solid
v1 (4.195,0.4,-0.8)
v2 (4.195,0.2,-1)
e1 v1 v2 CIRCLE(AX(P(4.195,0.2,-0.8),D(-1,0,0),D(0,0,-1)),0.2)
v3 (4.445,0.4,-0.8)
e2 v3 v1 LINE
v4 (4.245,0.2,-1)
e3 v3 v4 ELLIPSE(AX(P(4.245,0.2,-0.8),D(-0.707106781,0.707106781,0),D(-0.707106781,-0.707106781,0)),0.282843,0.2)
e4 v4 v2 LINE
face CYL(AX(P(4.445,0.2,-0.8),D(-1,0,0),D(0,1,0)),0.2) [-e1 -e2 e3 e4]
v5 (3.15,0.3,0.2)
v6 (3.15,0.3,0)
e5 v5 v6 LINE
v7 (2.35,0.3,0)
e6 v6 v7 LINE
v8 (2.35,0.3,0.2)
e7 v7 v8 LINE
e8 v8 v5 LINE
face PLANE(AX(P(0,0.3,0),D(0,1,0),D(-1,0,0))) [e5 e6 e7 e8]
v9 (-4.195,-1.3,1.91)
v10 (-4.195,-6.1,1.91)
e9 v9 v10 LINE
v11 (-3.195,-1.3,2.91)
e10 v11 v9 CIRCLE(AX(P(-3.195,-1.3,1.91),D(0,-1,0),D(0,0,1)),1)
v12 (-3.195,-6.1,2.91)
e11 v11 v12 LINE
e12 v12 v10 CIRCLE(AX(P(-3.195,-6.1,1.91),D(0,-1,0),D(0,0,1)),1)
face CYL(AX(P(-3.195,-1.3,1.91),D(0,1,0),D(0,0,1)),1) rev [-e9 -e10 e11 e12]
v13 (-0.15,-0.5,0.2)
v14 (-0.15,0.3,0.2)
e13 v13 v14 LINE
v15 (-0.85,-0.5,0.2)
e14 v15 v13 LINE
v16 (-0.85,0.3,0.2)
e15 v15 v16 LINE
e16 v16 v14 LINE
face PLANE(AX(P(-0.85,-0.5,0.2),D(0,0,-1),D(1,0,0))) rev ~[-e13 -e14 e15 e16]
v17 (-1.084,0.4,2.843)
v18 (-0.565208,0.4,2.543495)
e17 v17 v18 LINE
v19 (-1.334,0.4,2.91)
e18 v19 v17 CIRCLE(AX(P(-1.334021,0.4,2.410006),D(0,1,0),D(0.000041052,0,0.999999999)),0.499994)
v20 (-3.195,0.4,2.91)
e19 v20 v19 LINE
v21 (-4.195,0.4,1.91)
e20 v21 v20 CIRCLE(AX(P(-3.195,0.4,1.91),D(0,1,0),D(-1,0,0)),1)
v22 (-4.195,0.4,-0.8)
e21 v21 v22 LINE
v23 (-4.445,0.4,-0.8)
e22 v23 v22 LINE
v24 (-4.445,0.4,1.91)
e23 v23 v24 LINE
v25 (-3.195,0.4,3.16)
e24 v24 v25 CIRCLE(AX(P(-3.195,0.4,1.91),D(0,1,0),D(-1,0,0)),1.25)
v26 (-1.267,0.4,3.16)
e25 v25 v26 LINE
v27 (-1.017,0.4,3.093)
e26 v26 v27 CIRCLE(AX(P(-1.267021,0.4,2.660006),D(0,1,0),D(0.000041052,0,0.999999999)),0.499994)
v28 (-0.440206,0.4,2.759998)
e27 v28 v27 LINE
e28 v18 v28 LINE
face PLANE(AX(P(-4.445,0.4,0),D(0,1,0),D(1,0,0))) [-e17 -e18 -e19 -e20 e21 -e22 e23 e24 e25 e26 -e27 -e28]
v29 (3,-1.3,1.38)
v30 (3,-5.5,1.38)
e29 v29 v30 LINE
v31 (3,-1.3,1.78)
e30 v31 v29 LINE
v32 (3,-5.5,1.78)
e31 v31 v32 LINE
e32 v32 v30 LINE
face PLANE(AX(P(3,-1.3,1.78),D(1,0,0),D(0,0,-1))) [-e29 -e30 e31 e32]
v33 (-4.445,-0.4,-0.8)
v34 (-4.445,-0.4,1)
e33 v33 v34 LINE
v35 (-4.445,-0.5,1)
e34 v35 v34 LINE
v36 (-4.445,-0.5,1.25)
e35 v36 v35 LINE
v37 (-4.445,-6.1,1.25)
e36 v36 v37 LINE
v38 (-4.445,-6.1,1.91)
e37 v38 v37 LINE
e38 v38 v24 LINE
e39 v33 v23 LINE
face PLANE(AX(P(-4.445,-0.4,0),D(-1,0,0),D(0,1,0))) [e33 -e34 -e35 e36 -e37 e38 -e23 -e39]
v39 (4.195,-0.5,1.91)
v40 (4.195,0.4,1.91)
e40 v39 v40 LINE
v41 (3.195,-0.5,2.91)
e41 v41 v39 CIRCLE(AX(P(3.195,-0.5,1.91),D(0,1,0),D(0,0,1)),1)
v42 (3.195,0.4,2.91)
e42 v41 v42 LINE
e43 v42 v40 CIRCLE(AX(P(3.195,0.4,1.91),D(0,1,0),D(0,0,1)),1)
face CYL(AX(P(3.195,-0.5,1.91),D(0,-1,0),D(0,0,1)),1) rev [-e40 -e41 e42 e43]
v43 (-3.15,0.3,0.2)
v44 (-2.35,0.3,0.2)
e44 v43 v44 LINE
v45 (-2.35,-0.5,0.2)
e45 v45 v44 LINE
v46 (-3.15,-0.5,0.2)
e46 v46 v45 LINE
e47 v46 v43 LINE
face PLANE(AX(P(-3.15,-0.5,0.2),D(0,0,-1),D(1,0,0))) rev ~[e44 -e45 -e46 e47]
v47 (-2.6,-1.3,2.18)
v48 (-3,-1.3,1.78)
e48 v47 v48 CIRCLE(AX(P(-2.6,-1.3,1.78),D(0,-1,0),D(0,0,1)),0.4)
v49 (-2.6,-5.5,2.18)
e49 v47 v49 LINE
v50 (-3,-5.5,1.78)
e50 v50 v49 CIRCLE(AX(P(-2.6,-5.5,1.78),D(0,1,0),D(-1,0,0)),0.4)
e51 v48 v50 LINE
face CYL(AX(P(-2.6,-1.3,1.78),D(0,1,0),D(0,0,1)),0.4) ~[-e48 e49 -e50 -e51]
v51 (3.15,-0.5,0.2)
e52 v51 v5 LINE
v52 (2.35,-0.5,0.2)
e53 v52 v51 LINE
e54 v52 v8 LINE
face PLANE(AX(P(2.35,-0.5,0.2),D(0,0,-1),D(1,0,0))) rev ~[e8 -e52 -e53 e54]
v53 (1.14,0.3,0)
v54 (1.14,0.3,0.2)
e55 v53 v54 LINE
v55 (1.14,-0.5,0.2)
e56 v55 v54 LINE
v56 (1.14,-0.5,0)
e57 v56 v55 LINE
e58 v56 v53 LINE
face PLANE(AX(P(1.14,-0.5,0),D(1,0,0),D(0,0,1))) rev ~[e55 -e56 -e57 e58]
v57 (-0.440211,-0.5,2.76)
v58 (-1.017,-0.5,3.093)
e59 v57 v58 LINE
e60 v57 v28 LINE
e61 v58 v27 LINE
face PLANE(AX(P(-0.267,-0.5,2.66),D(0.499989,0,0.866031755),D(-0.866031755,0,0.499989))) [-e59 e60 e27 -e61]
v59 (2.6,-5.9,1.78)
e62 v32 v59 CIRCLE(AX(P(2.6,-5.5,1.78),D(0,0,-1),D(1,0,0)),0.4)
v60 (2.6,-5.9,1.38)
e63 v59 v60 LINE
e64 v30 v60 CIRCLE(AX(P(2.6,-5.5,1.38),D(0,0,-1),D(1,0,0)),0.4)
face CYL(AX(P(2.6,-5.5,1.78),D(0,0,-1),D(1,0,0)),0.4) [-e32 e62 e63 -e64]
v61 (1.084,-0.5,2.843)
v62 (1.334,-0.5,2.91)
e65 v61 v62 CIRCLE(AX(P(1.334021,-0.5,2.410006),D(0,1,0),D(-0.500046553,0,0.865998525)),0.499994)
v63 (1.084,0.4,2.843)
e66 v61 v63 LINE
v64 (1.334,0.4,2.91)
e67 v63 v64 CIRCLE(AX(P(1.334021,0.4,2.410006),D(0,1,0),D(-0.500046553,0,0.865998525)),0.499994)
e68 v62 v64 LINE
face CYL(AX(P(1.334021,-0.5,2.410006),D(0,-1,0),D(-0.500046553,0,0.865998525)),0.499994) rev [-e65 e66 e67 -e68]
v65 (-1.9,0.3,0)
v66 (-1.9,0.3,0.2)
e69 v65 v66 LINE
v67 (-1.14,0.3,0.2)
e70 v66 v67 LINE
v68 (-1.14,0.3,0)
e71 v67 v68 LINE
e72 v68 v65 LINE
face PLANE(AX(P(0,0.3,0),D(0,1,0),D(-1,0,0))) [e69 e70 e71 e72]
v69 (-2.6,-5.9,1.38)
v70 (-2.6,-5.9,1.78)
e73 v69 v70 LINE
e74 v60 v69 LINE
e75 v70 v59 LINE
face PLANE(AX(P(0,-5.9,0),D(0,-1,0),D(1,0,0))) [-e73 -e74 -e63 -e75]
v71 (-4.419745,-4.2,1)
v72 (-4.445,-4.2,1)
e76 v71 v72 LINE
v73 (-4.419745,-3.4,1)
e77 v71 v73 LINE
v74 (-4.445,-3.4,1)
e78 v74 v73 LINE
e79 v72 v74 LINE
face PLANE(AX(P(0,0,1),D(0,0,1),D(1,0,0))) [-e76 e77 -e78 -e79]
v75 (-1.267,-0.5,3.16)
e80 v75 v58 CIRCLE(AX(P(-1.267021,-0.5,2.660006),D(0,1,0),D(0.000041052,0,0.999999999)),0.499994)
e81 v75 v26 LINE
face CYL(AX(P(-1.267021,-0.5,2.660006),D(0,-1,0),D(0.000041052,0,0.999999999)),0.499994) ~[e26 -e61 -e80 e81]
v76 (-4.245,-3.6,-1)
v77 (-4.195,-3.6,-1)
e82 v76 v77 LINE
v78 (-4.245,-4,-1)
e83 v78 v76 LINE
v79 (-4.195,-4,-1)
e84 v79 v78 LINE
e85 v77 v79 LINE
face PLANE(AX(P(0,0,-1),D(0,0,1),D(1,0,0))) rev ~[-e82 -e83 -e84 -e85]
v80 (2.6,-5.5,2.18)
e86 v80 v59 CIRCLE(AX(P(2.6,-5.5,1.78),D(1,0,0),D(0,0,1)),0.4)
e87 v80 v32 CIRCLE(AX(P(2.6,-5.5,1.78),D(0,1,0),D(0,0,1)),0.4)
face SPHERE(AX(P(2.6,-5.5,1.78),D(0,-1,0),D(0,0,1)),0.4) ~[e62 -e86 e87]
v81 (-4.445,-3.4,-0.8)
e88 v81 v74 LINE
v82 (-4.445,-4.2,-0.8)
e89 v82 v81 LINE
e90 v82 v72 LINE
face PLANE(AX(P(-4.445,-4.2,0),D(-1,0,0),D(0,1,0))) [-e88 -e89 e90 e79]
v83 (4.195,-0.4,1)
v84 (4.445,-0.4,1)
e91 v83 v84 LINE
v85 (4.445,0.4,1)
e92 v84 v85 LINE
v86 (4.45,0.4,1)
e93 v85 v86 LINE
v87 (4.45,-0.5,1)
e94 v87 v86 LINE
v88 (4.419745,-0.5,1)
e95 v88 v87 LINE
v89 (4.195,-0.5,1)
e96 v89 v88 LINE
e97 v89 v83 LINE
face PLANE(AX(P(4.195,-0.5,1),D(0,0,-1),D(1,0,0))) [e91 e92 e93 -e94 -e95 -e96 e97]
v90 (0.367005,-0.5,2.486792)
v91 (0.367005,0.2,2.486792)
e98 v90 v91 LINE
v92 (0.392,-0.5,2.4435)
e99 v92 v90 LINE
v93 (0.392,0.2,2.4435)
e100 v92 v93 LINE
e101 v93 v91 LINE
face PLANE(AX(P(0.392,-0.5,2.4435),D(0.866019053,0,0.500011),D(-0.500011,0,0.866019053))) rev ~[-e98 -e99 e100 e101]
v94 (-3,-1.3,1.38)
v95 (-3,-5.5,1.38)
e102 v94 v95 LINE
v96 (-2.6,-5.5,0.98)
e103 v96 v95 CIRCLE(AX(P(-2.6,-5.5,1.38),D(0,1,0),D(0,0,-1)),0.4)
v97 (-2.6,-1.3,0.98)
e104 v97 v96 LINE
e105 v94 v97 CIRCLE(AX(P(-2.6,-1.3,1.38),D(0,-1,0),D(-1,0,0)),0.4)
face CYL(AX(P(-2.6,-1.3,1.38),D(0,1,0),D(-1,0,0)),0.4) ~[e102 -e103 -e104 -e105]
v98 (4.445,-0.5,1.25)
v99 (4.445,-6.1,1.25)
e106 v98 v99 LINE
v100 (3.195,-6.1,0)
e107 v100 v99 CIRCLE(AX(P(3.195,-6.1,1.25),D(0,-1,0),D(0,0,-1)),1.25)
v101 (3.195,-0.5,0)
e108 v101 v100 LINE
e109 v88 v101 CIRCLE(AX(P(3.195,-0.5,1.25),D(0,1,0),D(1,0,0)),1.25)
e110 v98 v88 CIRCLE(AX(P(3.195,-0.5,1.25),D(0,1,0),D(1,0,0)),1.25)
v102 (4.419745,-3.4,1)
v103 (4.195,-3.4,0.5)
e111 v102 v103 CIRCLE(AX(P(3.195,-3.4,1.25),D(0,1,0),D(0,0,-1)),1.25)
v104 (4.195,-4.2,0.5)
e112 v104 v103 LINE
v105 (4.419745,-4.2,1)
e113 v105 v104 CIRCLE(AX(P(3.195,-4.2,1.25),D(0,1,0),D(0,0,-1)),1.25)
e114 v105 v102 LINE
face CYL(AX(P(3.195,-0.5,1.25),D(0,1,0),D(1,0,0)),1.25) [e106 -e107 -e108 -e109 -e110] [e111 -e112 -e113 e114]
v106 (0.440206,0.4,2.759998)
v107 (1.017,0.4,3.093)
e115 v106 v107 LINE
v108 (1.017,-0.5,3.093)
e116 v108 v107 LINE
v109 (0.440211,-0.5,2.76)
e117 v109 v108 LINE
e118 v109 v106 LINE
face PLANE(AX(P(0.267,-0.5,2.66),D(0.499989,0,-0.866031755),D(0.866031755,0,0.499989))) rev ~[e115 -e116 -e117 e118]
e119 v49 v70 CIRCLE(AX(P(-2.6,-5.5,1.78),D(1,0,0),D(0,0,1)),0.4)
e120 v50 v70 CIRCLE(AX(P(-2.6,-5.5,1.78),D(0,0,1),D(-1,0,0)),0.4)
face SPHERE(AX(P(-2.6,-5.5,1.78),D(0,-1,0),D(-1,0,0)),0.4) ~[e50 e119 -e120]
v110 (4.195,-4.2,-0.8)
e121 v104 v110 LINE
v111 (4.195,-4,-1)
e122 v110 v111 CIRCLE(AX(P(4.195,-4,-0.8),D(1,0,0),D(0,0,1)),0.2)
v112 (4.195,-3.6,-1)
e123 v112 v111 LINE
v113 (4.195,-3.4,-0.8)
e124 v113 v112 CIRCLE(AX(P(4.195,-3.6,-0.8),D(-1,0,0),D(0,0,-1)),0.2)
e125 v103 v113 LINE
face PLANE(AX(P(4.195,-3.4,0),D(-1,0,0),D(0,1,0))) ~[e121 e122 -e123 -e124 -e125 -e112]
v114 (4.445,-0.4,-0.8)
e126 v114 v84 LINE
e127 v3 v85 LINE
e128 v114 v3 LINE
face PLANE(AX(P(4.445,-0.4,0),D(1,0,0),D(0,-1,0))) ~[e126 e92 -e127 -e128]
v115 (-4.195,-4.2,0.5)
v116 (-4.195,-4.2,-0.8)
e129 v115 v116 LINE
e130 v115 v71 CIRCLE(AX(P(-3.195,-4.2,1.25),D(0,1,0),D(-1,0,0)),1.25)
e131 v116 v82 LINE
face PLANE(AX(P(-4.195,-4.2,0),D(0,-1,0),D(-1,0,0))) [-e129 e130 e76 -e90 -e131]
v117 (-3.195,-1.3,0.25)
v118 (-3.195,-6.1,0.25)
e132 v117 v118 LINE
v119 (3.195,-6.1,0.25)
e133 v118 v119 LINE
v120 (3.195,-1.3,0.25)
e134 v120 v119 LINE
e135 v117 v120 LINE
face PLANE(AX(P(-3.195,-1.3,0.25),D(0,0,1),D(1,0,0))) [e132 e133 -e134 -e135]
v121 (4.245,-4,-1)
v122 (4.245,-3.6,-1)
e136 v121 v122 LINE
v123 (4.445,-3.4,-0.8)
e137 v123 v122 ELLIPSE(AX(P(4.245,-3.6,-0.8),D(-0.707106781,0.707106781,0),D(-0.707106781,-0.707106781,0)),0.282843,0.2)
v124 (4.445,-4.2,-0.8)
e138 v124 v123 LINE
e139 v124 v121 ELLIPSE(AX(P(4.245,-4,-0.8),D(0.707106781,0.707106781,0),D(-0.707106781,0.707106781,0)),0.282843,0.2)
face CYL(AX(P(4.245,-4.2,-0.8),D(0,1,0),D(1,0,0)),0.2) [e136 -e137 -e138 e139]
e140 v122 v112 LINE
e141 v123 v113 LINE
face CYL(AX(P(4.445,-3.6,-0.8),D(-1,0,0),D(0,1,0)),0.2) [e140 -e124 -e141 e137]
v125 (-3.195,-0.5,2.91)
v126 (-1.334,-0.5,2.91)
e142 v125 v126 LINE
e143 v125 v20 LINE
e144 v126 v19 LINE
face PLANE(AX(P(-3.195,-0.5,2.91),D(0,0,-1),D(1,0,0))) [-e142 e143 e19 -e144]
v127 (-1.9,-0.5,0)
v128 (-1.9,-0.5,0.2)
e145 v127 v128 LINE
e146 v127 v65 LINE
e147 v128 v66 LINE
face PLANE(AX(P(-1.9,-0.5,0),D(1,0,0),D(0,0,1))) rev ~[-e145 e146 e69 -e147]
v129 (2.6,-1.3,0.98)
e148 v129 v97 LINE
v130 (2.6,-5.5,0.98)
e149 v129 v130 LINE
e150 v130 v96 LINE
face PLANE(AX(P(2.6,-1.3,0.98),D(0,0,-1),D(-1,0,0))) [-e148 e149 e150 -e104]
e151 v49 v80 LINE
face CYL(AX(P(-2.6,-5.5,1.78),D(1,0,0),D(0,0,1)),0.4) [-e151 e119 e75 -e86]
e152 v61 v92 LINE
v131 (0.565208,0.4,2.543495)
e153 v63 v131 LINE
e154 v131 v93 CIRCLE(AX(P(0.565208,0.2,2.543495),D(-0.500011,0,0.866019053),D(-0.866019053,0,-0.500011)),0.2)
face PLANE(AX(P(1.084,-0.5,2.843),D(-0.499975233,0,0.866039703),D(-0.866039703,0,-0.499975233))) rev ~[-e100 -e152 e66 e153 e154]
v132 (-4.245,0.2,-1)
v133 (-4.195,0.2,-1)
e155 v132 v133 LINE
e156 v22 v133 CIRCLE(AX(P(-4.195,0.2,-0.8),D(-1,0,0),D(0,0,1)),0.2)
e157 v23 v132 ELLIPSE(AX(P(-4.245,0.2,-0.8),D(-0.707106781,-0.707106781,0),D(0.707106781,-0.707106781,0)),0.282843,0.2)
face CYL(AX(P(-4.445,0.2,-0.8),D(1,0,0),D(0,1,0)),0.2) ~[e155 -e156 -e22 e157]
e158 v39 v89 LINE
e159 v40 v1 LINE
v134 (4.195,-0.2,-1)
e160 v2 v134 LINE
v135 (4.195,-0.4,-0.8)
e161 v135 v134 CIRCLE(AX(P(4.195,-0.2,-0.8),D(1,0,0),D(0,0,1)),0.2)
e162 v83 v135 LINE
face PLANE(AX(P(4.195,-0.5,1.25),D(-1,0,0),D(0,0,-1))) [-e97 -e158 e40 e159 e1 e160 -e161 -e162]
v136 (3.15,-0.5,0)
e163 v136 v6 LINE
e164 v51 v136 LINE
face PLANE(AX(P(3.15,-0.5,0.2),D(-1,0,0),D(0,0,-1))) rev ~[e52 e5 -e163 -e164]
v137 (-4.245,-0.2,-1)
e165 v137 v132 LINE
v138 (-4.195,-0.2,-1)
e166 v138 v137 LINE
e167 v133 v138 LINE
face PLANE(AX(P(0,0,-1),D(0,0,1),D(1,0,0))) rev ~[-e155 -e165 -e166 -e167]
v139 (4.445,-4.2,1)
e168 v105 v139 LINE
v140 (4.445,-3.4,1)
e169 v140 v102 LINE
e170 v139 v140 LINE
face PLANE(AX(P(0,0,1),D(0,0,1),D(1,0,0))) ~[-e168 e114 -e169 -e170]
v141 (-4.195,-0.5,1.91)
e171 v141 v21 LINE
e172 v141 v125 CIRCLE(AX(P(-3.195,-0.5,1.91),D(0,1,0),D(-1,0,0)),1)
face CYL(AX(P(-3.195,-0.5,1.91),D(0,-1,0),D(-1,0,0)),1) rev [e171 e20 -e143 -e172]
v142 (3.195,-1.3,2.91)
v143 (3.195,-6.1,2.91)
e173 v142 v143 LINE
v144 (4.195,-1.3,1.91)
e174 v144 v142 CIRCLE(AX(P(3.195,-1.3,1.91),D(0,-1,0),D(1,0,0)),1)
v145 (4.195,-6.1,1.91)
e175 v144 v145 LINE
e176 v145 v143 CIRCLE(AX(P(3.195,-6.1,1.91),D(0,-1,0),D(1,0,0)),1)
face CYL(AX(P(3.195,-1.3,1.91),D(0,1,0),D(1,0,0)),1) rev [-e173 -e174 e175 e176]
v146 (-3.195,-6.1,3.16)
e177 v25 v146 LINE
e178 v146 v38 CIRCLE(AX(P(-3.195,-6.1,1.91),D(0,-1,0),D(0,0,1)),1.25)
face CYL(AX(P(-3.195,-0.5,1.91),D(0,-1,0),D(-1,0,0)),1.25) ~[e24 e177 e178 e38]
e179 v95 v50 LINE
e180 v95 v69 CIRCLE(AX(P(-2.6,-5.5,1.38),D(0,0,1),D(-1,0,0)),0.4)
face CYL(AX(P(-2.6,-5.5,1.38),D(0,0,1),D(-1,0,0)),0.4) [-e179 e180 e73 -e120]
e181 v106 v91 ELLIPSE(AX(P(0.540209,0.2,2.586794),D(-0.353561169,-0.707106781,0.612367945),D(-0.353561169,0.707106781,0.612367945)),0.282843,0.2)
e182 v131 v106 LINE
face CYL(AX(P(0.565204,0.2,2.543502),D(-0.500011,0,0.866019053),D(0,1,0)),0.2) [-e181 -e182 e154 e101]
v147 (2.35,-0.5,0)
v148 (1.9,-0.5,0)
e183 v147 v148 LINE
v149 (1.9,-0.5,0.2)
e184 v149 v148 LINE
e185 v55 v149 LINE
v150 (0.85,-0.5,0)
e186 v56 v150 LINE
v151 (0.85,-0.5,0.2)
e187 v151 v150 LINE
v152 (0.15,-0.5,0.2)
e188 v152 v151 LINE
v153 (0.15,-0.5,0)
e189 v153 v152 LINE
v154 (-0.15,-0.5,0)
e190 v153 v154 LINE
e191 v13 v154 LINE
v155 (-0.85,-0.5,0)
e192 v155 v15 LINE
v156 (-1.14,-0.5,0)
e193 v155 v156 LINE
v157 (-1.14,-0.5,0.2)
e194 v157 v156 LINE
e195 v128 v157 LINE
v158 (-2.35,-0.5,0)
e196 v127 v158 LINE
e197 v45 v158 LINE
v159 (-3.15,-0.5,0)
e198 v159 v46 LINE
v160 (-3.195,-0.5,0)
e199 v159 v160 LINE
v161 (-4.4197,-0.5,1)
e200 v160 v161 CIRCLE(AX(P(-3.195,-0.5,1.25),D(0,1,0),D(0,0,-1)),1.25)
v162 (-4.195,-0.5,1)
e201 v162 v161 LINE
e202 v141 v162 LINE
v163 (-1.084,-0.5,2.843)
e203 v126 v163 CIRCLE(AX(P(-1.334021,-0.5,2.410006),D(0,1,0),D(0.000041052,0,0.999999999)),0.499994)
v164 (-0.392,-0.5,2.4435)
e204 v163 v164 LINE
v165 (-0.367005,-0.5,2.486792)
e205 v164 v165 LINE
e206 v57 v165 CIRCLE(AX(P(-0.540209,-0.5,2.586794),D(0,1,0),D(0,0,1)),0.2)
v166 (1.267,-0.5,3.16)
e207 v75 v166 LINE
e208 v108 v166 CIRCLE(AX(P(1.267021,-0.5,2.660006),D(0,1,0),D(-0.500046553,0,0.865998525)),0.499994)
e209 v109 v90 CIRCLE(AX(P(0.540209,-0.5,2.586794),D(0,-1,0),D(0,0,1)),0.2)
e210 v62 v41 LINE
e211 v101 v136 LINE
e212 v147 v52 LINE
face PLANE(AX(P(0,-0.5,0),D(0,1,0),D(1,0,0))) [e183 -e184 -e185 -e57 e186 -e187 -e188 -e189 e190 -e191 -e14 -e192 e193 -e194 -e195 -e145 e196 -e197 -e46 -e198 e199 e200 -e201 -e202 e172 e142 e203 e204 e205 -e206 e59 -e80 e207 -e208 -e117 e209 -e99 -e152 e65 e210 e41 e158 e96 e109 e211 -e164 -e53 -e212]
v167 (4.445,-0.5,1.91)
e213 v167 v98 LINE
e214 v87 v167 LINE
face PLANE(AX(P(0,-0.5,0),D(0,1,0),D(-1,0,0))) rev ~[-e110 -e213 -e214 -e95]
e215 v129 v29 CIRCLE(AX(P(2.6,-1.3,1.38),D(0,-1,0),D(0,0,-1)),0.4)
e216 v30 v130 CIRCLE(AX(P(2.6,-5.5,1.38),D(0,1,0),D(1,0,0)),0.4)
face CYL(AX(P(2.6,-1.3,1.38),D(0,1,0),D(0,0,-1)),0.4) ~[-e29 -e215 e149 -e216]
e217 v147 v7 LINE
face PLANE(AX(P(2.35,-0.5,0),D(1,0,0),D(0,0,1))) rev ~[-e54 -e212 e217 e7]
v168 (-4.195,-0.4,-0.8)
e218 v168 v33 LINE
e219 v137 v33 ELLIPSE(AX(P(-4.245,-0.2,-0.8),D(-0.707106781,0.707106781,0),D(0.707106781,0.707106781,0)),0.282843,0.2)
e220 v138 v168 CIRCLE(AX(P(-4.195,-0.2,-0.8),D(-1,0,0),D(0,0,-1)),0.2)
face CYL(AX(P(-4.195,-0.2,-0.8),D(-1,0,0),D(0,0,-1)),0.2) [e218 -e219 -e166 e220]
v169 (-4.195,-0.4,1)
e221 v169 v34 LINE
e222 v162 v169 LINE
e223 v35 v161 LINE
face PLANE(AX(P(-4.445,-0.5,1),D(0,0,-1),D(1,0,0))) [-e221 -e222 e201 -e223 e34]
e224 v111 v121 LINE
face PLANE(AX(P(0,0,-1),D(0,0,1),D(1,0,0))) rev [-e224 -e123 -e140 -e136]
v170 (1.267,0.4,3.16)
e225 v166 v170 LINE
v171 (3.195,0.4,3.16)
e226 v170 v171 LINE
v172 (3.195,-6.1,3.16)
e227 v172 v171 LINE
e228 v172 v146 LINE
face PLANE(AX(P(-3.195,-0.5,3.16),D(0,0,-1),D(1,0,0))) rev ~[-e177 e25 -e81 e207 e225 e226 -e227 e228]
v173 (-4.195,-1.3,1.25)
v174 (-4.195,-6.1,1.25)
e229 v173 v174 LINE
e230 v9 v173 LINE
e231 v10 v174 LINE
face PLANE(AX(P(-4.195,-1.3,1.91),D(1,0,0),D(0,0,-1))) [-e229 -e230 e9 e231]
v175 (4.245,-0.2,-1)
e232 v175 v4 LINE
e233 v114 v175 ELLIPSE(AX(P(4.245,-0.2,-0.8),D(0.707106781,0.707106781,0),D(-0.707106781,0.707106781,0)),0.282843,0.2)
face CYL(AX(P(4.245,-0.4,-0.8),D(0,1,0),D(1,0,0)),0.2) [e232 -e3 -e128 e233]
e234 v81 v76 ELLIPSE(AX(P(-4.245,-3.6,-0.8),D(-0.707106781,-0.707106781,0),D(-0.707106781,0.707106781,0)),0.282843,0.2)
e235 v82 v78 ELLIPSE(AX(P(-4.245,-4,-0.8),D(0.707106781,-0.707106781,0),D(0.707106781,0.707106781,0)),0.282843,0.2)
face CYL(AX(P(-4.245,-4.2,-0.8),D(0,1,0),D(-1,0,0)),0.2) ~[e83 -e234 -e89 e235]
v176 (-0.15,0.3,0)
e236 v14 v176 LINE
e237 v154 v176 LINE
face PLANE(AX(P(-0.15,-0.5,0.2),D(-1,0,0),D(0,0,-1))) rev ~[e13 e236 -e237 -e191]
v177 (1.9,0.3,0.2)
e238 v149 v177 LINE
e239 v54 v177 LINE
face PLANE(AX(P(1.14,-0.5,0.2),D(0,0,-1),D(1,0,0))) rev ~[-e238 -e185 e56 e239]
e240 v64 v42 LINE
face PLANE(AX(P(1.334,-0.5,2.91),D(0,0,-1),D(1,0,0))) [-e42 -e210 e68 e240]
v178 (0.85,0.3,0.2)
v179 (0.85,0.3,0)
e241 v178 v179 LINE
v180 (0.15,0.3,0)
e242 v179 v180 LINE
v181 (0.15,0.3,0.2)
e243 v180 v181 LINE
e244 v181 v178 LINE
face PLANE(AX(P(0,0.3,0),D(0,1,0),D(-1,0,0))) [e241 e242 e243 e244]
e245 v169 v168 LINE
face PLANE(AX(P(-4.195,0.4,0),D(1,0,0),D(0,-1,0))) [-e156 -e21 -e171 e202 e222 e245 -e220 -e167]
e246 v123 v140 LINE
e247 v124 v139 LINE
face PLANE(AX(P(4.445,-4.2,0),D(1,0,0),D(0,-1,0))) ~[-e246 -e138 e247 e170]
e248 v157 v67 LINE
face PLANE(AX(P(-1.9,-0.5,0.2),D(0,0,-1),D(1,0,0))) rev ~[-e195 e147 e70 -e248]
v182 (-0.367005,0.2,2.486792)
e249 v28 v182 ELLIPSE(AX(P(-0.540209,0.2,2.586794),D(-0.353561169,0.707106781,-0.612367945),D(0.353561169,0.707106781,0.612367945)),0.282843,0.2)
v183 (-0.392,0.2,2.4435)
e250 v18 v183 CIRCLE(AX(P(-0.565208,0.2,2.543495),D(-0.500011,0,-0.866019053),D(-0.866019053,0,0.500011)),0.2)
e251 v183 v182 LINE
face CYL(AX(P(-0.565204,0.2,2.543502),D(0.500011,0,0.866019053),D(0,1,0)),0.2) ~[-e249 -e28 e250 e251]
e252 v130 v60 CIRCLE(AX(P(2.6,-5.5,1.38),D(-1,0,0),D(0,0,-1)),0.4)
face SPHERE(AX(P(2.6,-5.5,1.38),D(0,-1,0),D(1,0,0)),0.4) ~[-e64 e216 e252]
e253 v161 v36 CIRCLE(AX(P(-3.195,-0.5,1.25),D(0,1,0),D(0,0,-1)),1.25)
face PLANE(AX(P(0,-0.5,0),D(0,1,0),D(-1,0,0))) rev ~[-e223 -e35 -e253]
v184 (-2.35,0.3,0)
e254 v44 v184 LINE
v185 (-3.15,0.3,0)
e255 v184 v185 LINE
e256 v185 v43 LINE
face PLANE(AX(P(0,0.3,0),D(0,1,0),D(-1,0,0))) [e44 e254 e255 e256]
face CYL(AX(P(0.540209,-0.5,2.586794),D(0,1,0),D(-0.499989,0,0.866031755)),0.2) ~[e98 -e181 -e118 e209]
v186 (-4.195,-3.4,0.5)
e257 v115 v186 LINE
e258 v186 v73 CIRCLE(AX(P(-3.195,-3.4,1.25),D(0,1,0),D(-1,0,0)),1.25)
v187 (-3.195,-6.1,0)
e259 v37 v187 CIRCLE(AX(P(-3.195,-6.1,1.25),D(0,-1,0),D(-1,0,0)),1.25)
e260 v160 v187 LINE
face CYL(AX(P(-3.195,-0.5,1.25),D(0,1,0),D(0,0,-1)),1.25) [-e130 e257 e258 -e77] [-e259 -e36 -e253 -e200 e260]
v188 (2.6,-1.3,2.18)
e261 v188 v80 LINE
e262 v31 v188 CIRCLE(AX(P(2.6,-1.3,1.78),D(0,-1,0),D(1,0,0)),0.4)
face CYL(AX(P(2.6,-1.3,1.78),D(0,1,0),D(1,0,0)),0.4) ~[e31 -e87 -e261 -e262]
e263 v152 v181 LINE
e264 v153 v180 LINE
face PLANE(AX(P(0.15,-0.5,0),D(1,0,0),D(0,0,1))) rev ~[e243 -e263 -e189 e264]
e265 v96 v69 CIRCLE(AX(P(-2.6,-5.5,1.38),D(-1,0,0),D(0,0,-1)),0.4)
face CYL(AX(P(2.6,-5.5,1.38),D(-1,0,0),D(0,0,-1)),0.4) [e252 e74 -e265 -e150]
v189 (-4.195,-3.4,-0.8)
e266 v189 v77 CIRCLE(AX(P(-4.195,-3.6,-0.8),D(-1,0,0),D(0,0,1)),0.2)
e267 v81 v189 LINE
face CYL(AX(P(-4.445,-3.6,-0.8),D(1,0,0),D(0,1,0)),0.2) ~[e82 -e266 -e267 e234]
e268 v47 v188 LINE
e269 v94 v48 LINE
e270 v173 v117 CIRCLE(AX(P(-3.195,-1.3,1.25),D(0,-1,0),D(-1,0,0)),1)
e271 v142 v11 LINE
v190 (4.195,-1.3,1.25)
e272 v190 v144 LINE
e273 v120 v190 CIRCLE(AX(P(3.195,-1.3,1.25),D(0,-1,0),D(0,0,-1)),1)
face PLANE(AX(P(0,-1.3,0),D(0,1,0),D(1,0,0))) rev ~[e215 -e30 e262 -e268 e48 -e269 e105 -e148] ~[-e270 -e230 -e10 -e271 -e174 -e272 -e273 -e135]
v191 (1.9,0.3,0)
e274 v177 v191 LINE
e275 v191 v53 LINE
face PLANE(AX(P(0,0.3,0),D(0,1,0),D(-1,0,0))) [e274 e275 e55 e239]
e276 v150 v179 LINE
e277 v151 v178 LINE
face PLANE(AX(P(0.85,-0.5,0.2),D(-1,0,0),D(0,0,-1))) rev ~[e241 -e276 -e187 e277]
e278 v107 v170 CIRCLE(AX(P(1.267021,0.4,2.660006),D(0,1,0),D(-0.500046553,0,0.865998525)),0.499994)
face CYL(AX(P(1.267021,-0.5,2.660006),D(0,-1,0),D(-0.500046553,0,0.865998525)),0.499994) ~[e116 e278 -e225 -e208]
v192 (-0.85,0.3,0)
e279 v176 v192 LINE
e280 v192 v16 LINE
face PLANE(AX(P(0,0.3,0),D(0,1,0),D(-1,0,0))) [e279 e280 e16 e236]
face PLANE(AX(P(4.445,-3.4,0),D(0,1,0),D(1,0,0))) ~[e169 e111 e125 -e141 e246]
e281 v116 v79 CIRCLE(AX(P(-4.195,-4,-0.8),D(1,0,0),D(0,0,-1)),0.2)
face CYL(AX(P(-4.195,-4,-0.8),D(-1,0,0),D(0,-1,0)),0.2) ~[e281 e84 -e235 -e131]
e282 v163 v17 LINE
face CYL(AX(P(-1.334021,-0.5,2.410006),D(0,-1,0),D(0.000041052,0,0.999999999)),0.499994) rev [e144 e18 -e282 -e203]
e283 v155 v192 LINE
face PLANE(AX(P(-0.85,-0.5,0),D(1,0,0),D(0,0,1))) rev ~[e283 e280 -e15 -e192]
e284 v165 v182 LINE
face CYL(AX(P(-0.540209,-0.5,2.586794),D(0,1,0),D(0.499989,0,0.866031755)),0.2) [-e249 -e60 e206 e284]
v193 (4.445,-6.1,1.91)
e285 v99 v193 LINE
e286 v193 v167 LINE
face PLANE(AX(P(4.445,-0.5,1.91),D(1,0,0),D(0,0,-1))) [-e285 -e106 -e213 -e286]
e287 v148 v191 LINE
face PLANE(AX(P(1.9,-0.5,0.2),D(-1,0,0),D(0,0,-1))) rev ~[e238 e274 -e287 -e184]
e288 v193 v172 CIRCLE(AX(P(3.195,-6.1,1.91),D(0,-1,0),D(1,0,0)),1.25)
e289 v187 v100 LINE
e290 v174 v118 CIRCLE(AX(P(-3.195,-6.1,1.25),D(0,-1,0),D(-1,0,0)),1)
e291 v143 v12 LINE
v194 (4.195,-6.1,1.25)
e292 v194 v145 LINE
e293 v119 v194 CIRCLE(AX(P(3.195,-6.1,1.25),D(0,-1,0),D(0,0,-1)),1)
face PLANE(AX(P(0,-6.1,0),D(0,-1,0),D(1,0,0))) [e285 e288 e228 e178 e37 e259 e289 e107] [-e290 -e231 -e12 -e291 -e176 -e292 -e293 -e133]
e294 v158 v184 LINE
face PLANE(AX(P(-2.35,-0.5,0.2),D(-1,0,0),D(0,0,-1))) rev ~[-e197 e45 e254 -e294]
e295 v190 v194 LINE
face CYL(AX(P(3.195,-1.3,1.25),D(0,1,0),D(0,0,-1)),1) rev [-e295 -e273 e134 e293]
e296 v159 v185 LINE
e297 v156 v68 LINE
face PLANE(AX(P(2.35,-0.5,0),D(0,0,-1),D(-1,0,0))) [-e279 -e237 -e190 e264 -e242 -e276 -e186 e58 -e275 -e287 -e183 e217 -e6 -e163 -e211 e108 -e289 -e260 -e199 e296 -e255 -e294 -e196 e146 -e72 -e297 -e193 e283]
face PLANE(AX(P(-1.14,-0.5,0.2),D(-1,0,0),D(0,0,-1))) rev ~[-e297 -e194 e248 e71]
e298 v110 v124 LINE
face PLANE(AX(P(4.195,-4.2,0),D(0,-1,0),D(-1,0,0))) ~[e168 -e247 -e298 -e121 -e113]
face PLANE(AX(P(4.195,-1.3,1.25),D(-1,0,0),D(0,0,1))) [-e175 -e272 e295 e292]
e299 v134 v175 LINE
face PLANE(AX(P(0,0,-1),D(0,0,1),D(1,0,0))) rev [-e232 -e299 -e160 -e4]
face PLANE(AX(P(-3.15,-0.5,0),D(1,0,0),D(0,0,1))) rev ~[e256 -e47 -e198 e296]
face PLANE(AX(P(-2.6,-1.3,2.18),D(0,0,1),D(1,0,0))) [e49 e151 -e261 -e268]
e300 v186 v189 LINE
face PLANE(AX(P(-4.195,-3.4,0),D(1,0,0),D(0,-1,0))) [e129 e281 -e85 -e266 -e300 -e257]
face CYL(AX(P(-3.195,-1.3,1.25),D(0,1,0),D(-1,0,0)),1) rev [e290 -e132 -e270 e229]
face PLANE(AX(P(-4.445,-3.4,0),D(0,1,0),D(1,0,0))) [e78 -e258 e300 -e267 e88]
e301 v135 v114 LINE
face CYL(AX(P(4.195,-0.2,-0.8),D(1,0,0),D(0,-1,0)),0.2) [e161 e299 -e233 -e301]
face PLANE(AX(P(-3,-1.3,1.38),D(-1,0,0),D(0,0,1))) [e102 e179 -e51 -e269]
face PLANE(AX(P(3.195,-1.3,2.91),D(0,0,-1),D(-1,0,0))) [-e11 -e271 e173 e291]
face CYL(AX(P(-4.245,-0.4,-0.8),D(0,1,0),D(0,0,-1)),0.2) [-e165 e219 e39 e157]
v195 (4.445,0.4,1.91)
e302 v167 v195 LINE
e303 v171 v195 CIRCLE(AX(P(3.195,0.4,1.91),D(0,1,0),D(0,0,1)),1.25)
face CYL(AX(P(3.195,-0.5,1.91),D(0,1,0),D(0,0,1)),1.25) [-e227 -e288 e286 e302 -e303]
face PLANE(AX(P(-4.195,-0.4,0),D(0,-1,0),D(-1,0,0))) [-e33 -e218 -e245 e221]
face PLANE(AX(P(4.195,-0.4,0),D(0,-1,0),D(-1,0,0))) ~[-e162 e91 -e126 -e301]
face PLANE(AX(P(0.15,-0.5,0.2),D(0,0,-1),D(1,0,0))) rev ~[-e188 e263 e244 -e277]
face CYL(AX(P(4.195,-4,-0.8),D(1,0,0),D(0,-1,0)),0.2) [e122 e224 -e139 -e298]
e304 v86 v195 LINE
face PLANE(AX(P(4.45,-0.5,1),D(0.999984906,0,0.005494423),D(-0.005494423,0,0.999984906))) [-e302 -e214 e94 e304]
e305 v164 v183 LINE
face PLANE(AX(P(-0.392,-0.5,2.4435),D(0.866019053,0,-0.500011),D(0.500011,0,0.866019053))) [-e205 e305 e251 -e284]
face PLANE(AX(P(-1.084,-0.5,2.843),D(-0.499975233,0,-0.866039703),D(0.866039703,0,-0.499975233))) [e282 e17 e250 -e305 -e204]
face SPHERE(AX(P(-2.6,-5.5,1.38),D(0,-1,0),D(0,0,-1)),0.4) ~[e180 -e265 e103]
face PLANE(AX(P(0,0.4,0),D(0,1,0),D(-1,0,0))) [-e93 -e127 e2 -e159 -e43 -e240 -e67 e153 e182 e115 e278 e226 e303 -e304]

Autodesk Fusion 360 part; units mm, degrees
sketch "Sketch1" plane through (0, 0, 0) normal (0, 0, 1) x (1, 0, 0)
  line L0 (-4.445, 0.4) -> (-4.195, 0.4)
  line L1 (-4.195, 0.4) -> (-4.195, -0.4)
  line L2 (-4.195, -0.4) -> (-4.445, -0.4)
  line L3 (-4.445, -0.4) -> (-4.445, 0.4)
  line L4 (-4.445, -3.4) -> (-4.195, -3.4)
  line L5 (-4.195, -3.4) -> (-4.195, -4.2)
  line L6 (-4.195, -4.2) -> (-4.445, -4.2)
  line L7 (-4.445, -4.2) -> (-4.445, -3.4)
  dimension "d1" = 0.4
  dimension "d2" = 0.8
  dimension "d3" = 0.8
  dimension "d4" = 4.195
  dimension "d5" = 0.25
  dimension "d6" = 4.195
  dimension "d7" = 0.25
  dimension "d8" = 3.4
extrude "Extrude1" add sketch "Sketch1" along normal blind 1 and the other way blind 1 makes body 1 at (-4.445, 0.1333, 0.3333) makes body 2 at (-4.445, -3.6667, 0.3333)
mirror "Mirror1" about plane through (0, 0, 0) normal (1, 0, 0) of bodies 1 2 makes body 3 at (4.445, 0.1333, 0.3333) makes body 4 at (4.445, -3.6667, 0.3333)
ref_plane "WorkPlane1" through (0, -0.5, 0) normal (0, 1, 0) x (0, 0, 1)
sketch "Sketch2" plane through (0, -0.5, 0) normal (0, 1, 0) x (1, 0, 0)
  line L0 (-3.195, -3.16) -> (3.195, -3.16)
  line L1 (4.445, -1.91) -> (4.445, -1.25)
  line L2 (3.195, 0) -> (-3.195, 0)
  line L3 (-4.445, -1.25) -> (-4.445, -1.91)
  line L4 (-4.445, -1) -> (-4.445, 1)
  line L5 (4.445, -1) -> (4.445, 1)
  line L6 (2.35, 0) -> (3.15, 0)
  arc A0 (-4.445, -1.91) -> (-3.195, -3.16) centre (-3.195, -1.91) ccw
  arc A1 (3.195, -3.16) -> (4.445, -1.91) centre (3.195, -1.91) ccw
  arc A2 (4.445, -1.25) -> (3.195, 0) centre (3.195, -1.25) ccw
  arc A3 (-3.195, 0) -> (-4.445, -1.25) centre (-3.195, -1.25) ccw
  line L7 (4.195, -1.91) -> (4.195, -1.25)
  arc A4 (4.195, -1.25) -> (3.195, -0.25) centre (3.195, -1.25) ccw
  line L8 (3.195, -0.25) -> (-3.195, -0.25)
  arc A5 (-3.195, -0.25) -> (-4.195, -1.25) centre (-3.195, -1.25) ccw
  line L9 (-4.195, -1.25) -> (-4.195, -1.91)
  arc A6 (-4.195, -1.91) -> (-3.195, -2.91) centre (-3.195, -1.91) ccw
  line L10 (-3.195, -2.91) -> (3.195, -2.91)
  arc A7 (3.195, -2.91) -> (4.195, -1.91) centre (3.195, -1.91) ccw
  dimension "d17" = 3.16
  dimension "d18" = 1.25
  dimension "d19" = -0.25
extrude "Extrude2" add sketch "Sketch2" against normal blind 0.8 separate body contours L0 L1 L2 L3 L6 A0 A1 A2 A3 | L7 A4 L8 A5 L9 A6 L10 A7 makes body 5
sketch "Sketch3" plane through (0, -1.3, 0) normal (0, -1, 0) x (1, 0, 0)
  line L0 (-3.195, 0) -> (3.195, 0)
  arc A0 (3.195, 0) -> (4.445, 1.25) centre (3.195, 1.25) ccw
  line L1 (4.445, 1.25) -> (4.445, 1.91)
  arc A1 (4.445, 1.91) -> (3.195, 3.16) centre (3.195, 1.91) ccw
  line L2 (3.195, 3.16) -> (-3.195, 3.16)
  arc A2 (-3.195, 3.16) -> (-4.445, 1.91) centre (-3.195, 1.91) ccw
  line L3 (-4.445, 1.91) -> (-4.445, 1.25)
  arc A3 (-4.445, 1.25) -> (-3.195, 0) centre (-3.195, 1.25) ccw
  line L4 (-4.195, 1.91) -> (-4.195, 1.25)
  arc A4 (-4.195, 1.25) -> (-3.195, 0.25) centre (-3.195, 1.25) ccw
  line L5 (-3.195, 0.25) -> (3.195, 0.25)
  arc A5 (3.195, 0.25) -> (4.195, 1.25) centre (3.195, 1.25) ccw
  line L6 (4.195, 1.25) -> (4.195, 1.91)
  arc A6 (4.195, 1.91) -> (3.195, 2.91) centre (3.195, 1.91) ccw
  line L7 (3.195, 2.91) -> (-3.195, 2.91)
  arc A7 (-3.195, 2.91) -> (-4.195, 1.91) centre (-3.195, 1.91) ccw
  dimension "d22" = -0.25
extrude "Extrude3" add sketch "Sketch3" along normal blind 4.8 bodies 2 4 5
sketch "Sketch4" plane through (0, -0.5, 0) normal (0, 1, 0) x (-1, 0, 0)
  line L0 (-3.195, 0) -> (3.195, 0)
  arc A0 (3.195, 0) -> (4.445, 1.25) centre (3.195, 1.25) ccw
  line L1 (4.445, 1.25) -> (4.445, 1.91)
  arc A1 (4.445, 1.91) -> (3.195, 3.16) centre (3.195, 1.91) ccw
  line L2 (3.195, 3.16) -> (-3.195, 3.16)
  arc A2 (-3.195, 3.16) -> (-4.445, 1.91) centre (-3.195, 1.91) ccw
  line L3 (-4.445, 1.91) -> (-4.445, 1.25)
  arc A3 (-4.445, 1.25) -> (-3.195, 0) centre (-3.195, 1.25) ccw
  line L4 (-4.195, 1.91) -> (-4.195, 1.25)
  line L5 (4.195, 1.25) -> (4.195, 1.91)
  arc A4 (4.195, 1.91) -> (3.195, 2.91) centre (3.195, 1.91) ccw
  arc A5 (-3.195, 2.91) -> (-4.195, 1.91) centre (-3.195, 1.91) ccw
  line L6 (4.195, 1.25) -> (4.195, 1)
  line L7 (4.195, 1) -> (4.4197, 1)
  line L8 (4.445, 1.91) -> (4.445, 1)
  line L9 (4.445, 1) -> (4.4197, 1)
  line L10 (-4.195, 1.25) -> (-4.195, 1)
  line L11 (-4.195, 1) -> (-4.45, 1)
  line L12 (-4.45, 1) -> (-4.445, 1.91)
  line L13 (-1.084, 2.843) -> (-0.392, 2.4435)
  line L14 (-0.392, 2.4435) -> (-0.267, 2.66)
  line L15 (-0.267, 2.66) -> (-1.017, 3.093)
  line L16 (0, 3.16) -> (0, 0) construction
  line L17 (0.392, 2.4435) -> (0.267, 2.66)
  line L18 (0.267, 2.66) -> (1.017, 3.093)
  line L19 (1.084, 2.843) -> (0.392, 2.4435)
  line L20 (3.195, 2.91) -> (1.334, 2.91)
  line L21 (-1.334, 2.91) -> (-3.195, 2.91)
  arc A6 (-3.195, 3.16) -> (-4.445, 1.91) centre (-3.195, 1.91) ccw construction
  line L22 (3.195, 3.16) -> (-3.195, 3.16) construction
  arc A7 (4.445, 1.91) -> (3.195, 3.16) centre (3.195, 1.91) ccw construction
  line L23 (-1.267, 3.16) -> (-3.195, 3.16)
  line L24 (1.267, 3.16) -> (1.2, 3.16)
  line L25 (3.195, 3.16) -> (1.2, 3.16)
  arc A8 (1.334, 2.91) -> (1.084, 2.843) centre (1.334, 2.41) ccw
  arc A9 (1.267, 3.16) -> (1.017, 3.093) centre (1.267, 2.66) ccw
  arc A10 (-1.017, 3.093) -> (-1.267, 3.16) centre (-1.267, 2.66) ccw
  arc A11 (-1.084, 2.843) -> (-1.334, 2.91) centre (-1.334, 2.41) ccw
  point P0 (-1.2, 2.91)
  point P1 (-1.133, 3.16)
  dimension "d26" = 150
  dimension "d27" = 1
  dimension "d28" = 0.25
  dimension "d29" = 1.2
  dimension "d30" = 0.5
  dimension "d31" = 0.5
  dimension "d32" = 0.5
  dimension "d33" = 0.5
extrude "Extrude4" add sketch "Sketch4" along normal up to surface (0.9 mm away) contours L3 A3 L11 L12 | L2 A2 L3 A3 L4 A5 L10 L11 L13 L14 L15 L21 L23 A10 A11 | A0 L1 A1 L2 L5 A4 L6 L7 L8 L17 L18 L19 L20 L25 A8 A9 | A0 L8 L9 bodies 1 2 3
fillet "Fillet1" radius 0.2 12 edges at (4.32, 0.4, -1) (4.32, -3.4, -1) (-4.32, 0.4, -1) (-4.445, 0, -1) (-4.445, -3.8, -1) (-4.32, -3.4, -1) (4.445, 0, -1) (4.32, -0.4, -1) (4.445, -3.8, -1) (4.32, -4.2, -1) (-4.32, -4.2, -1) (-4.32, -0.4, -1) on bodies 1
fillet "Fillet2" radius 0.2 4 edges at (0.3295, 0.4, 2.5517) (-0.3295, 0.4, 2.5517) (-0.267, -0.05, 2.66) (0.267, -0.05, 2.66) on bodies 1
sketch "Sketch5" plane through (0, -1.3, 0) normal (0, -1, 0) x (1, 0, 0)
  line L0 (-4.195, 1.91) -> (-4.195, 1.25)
  arc A0 (-4.195, 1.25) -> (-3.195, 0.25) centre (-3.195, 1.25) ccw
  line L1 (-3.195, 0.25) -> (3.195, 0.25)
  arc A1 (3.195, 0.25) -> (4.195, 1.25) centre (3.195, 1.25) ccw
  line L2 (4.195, 1.25) -> (4.195, 1.91)
  arc A2 (4.195, 1.91) -> (3.195, 2.91) centre (3.195, 1.91) ccw
  line L3 (3.195, 2.91) -> (-3.195, 2.91)
  arc A3 (-3.195, 2.91) -> (-4.195, 1.91) centre (-3.195, 1.91) ccw
  line L4 (-2.6, 2.18) -> (2.6, 2.18)
  line L5 (3, 1.78) -> (3, 1.38)
  line L6 (2.6, 0.98) -> (-2.6, 0.98)
  line L7 (-3, 1.38) -> (-3, 1.78)
  arc A4 (-2.6, 2.18) -> (-3, 1.78) centre (-2.6, 1.78) ccw
  arc A5 (-3, 1.38) -> (-2.6, 0.98) centre (-2.6, 1.38) ccw
  arc A6 (2.6, 0.98) -> (3, 1.38) centre (2.6, 1.38) ccw
  arc A7 (3, 1.78) -> (2.6, 2.18) centre (2.6, 1.78) ccw
  point P0 (-3, 2.18)
  point P1 (3, 2.18)
  point P2 (-3, 0.98)
  dimension "d40" = 6
  dimension "d41" = 1.2
  dimension "d42" = 3
  dimension "d43" = 0.98
  dimension "d44" = 0.4
  dimension "d45" = 0.4
extrude "Extrude5" add sketch "Sketch5" along normal blind 4.6 contours L4 L5 L6 L7 A4 A5 A6 A7 bodies 1
fillet "Fillet3" radius 0.4 1 faces at (-0.8667, -5.9, 1.38) on bodies 1
sketch "Sketch6" plane through (0, -0.5, 0) normal (0, 1, 0) x (-1, 0, 0)
  arc A0 (1.267, 3.16) -> (1.017, 3.093) centre (1.267, 2.66) ccw
  line L0 (1.267, 3.16) -> (-1.267, 3.16)
  arc A1 (-1.017, 3.093) -> (-1.267, 3.16) centre (-1.267, 2.66) ccw
  line L1 (-1.017, 3.093) -> (-0.4402, 2.76)
  arc A2 (-0.367, 2.4868) -> (-0.4402, 2.76) centre (-0.5402, 2.5868) ccw
  line L2 (-0.367, 2.4868) -> (-0.392, 2.4435)
  line L3 (-0.392, 2.4435) -> (-1.084, 2.843)
  arc A3 (-1.084, 2.843) -> (-1.334, 2.91) centre (-1.334, 2.41) ccw
  line L4 (-1.334, 2.91) -> (-3.195, 2.91)
  arc A4 (-3.195, 2.91) -> (-4.195, 1.91) centre (-3.195, 1.91) ccw
  line L5 (-4.195, 1.91) -> (-4.195, 1)
  line L6 (-4.195, 1) -> (-4.4197, 1)
  arc A5 (-4.4197, 1) -> (-3.195, 0) centre (-3.195, 1.25) ccw
  line L7 (-3.195, 0) -> (3.195, 0)
  arc A6 (3.195, 0) -> (4.4197, 1) centre (3.195, 1.25) ccw
  line L8 (4.4197, 1) -> (4.195, 1)
  line L9 (4.195, 1) -> (4.195, 1.91)
  arc A7 (4.195, 1.91) -> (3.195, 2.91) centre (3.195, 1.91) ccw
  line L10 (3.195, 2.91) -> (1.334, 2.91)
  arc A8 (1.334, 2.91) -> (1.084, 2.843) centre (1.334, 2.41) ccw
  line L11 (1.084, 2.843) -> (0.392, 2.4435)
  line L12 (0.392, 2.4435) -> (0.367, 2.4868)
  arc A9 (0.4402, 2.76) -> (0.367, 2.4868) centre (0.5402, 2.5868) ccw
  line L13 (0.4402, 2.76) -> (1.017, 3.093)
  line L14 (-3.15, 0) -> (-2.35, 0)
  line L15 (-2.35, 0) -> (-2.35, 0.2)
  line L16 (-2.35, 0.2) -> (-3.15, 0.2)
  line L17 (-3.15, 0.2) -> (-3.15, 0)
  line L18 (-1.9, 0) -> (-1.14, 0)
  line L19 (-1.14, 0) -> (-1.14, 0.2)
  line L20 (-1.14, 0.2) -> (-1.9, 0.2)
  line L21 (-1.9, 0.2) -> (-1.9, 0)
  line L22 (-0.85, 0) -> (-0.15, 0)
  line L23 (-0.15, 0) -> (-0.15, 0.2)
  line L24 (-0.15, 0.2) -> (-0.85, 0.2)
  line L25 (-0.85, 0.2) -> (-0.85, 0)
  line L26 (0.15, 0) -> (0.85, 0)
  line L27 (0.85, 0) -> (0.85, 0.2)
  line L28 (0.85, 0.2) -> (0.15, 0.2)
  line L29 (0.15, 0.2) -> (0.15, 0)
  line L30 (1.14, 0) -> (1.9, 0)
  line L31 (1.9, 0) -> (1.9, 0.2)
  line L32 (1.9, 0.2) -> (1.14, 0.2)
  line L33 (1.14, 0.2) -> (1.14, 0)
  line L34 (2.35, 0) -> (3.15, 0)
  line L35 (3.15, 0) -> (3.15, 0.2)
  line L36 (3.15, 0.2) -> (2.35, 0.2)
  line L37 (2.35, 0.2) -> (2.35, 0)
  point P0 (-2.35, 0)
  point P1 (-1.9, 0)
  point P2 (-1.14, 0)
  point P3 (-0.85, 0)
  point P4 (-0.15, 0)
  point P5 (0.15, 0)
  point P6 (-3.15, 0)
  point P7 (0.85, 0)
  point P8 (1.14, 0)
  point P9 (1.9, 0)
  point P10 (2.35, 0)
  point P11 (3.15, 0)
  dimension "d50" = 0.2
extrude "Extrude6" add sketch "Sketch6" along normal blind 0.8 contours L7 L34 L35 L36 L37 | L7 L14 L15 L16 L17 | L7 L30 L31 L32 L33 | L7 L18 L19 L20 L21 | L7 L26 L27 L28 L29 | L7 L22 L23 L24 L25 bodies 1
equation "d4 = ( 8.64 / 2 ) * 1 mm - 0.125 mm"
equation "d8 = 3.8 mm - 0.4 mm"
equation "d43 = ( 3.16 / 2 ) * 1 mm - 0.6 mm"
